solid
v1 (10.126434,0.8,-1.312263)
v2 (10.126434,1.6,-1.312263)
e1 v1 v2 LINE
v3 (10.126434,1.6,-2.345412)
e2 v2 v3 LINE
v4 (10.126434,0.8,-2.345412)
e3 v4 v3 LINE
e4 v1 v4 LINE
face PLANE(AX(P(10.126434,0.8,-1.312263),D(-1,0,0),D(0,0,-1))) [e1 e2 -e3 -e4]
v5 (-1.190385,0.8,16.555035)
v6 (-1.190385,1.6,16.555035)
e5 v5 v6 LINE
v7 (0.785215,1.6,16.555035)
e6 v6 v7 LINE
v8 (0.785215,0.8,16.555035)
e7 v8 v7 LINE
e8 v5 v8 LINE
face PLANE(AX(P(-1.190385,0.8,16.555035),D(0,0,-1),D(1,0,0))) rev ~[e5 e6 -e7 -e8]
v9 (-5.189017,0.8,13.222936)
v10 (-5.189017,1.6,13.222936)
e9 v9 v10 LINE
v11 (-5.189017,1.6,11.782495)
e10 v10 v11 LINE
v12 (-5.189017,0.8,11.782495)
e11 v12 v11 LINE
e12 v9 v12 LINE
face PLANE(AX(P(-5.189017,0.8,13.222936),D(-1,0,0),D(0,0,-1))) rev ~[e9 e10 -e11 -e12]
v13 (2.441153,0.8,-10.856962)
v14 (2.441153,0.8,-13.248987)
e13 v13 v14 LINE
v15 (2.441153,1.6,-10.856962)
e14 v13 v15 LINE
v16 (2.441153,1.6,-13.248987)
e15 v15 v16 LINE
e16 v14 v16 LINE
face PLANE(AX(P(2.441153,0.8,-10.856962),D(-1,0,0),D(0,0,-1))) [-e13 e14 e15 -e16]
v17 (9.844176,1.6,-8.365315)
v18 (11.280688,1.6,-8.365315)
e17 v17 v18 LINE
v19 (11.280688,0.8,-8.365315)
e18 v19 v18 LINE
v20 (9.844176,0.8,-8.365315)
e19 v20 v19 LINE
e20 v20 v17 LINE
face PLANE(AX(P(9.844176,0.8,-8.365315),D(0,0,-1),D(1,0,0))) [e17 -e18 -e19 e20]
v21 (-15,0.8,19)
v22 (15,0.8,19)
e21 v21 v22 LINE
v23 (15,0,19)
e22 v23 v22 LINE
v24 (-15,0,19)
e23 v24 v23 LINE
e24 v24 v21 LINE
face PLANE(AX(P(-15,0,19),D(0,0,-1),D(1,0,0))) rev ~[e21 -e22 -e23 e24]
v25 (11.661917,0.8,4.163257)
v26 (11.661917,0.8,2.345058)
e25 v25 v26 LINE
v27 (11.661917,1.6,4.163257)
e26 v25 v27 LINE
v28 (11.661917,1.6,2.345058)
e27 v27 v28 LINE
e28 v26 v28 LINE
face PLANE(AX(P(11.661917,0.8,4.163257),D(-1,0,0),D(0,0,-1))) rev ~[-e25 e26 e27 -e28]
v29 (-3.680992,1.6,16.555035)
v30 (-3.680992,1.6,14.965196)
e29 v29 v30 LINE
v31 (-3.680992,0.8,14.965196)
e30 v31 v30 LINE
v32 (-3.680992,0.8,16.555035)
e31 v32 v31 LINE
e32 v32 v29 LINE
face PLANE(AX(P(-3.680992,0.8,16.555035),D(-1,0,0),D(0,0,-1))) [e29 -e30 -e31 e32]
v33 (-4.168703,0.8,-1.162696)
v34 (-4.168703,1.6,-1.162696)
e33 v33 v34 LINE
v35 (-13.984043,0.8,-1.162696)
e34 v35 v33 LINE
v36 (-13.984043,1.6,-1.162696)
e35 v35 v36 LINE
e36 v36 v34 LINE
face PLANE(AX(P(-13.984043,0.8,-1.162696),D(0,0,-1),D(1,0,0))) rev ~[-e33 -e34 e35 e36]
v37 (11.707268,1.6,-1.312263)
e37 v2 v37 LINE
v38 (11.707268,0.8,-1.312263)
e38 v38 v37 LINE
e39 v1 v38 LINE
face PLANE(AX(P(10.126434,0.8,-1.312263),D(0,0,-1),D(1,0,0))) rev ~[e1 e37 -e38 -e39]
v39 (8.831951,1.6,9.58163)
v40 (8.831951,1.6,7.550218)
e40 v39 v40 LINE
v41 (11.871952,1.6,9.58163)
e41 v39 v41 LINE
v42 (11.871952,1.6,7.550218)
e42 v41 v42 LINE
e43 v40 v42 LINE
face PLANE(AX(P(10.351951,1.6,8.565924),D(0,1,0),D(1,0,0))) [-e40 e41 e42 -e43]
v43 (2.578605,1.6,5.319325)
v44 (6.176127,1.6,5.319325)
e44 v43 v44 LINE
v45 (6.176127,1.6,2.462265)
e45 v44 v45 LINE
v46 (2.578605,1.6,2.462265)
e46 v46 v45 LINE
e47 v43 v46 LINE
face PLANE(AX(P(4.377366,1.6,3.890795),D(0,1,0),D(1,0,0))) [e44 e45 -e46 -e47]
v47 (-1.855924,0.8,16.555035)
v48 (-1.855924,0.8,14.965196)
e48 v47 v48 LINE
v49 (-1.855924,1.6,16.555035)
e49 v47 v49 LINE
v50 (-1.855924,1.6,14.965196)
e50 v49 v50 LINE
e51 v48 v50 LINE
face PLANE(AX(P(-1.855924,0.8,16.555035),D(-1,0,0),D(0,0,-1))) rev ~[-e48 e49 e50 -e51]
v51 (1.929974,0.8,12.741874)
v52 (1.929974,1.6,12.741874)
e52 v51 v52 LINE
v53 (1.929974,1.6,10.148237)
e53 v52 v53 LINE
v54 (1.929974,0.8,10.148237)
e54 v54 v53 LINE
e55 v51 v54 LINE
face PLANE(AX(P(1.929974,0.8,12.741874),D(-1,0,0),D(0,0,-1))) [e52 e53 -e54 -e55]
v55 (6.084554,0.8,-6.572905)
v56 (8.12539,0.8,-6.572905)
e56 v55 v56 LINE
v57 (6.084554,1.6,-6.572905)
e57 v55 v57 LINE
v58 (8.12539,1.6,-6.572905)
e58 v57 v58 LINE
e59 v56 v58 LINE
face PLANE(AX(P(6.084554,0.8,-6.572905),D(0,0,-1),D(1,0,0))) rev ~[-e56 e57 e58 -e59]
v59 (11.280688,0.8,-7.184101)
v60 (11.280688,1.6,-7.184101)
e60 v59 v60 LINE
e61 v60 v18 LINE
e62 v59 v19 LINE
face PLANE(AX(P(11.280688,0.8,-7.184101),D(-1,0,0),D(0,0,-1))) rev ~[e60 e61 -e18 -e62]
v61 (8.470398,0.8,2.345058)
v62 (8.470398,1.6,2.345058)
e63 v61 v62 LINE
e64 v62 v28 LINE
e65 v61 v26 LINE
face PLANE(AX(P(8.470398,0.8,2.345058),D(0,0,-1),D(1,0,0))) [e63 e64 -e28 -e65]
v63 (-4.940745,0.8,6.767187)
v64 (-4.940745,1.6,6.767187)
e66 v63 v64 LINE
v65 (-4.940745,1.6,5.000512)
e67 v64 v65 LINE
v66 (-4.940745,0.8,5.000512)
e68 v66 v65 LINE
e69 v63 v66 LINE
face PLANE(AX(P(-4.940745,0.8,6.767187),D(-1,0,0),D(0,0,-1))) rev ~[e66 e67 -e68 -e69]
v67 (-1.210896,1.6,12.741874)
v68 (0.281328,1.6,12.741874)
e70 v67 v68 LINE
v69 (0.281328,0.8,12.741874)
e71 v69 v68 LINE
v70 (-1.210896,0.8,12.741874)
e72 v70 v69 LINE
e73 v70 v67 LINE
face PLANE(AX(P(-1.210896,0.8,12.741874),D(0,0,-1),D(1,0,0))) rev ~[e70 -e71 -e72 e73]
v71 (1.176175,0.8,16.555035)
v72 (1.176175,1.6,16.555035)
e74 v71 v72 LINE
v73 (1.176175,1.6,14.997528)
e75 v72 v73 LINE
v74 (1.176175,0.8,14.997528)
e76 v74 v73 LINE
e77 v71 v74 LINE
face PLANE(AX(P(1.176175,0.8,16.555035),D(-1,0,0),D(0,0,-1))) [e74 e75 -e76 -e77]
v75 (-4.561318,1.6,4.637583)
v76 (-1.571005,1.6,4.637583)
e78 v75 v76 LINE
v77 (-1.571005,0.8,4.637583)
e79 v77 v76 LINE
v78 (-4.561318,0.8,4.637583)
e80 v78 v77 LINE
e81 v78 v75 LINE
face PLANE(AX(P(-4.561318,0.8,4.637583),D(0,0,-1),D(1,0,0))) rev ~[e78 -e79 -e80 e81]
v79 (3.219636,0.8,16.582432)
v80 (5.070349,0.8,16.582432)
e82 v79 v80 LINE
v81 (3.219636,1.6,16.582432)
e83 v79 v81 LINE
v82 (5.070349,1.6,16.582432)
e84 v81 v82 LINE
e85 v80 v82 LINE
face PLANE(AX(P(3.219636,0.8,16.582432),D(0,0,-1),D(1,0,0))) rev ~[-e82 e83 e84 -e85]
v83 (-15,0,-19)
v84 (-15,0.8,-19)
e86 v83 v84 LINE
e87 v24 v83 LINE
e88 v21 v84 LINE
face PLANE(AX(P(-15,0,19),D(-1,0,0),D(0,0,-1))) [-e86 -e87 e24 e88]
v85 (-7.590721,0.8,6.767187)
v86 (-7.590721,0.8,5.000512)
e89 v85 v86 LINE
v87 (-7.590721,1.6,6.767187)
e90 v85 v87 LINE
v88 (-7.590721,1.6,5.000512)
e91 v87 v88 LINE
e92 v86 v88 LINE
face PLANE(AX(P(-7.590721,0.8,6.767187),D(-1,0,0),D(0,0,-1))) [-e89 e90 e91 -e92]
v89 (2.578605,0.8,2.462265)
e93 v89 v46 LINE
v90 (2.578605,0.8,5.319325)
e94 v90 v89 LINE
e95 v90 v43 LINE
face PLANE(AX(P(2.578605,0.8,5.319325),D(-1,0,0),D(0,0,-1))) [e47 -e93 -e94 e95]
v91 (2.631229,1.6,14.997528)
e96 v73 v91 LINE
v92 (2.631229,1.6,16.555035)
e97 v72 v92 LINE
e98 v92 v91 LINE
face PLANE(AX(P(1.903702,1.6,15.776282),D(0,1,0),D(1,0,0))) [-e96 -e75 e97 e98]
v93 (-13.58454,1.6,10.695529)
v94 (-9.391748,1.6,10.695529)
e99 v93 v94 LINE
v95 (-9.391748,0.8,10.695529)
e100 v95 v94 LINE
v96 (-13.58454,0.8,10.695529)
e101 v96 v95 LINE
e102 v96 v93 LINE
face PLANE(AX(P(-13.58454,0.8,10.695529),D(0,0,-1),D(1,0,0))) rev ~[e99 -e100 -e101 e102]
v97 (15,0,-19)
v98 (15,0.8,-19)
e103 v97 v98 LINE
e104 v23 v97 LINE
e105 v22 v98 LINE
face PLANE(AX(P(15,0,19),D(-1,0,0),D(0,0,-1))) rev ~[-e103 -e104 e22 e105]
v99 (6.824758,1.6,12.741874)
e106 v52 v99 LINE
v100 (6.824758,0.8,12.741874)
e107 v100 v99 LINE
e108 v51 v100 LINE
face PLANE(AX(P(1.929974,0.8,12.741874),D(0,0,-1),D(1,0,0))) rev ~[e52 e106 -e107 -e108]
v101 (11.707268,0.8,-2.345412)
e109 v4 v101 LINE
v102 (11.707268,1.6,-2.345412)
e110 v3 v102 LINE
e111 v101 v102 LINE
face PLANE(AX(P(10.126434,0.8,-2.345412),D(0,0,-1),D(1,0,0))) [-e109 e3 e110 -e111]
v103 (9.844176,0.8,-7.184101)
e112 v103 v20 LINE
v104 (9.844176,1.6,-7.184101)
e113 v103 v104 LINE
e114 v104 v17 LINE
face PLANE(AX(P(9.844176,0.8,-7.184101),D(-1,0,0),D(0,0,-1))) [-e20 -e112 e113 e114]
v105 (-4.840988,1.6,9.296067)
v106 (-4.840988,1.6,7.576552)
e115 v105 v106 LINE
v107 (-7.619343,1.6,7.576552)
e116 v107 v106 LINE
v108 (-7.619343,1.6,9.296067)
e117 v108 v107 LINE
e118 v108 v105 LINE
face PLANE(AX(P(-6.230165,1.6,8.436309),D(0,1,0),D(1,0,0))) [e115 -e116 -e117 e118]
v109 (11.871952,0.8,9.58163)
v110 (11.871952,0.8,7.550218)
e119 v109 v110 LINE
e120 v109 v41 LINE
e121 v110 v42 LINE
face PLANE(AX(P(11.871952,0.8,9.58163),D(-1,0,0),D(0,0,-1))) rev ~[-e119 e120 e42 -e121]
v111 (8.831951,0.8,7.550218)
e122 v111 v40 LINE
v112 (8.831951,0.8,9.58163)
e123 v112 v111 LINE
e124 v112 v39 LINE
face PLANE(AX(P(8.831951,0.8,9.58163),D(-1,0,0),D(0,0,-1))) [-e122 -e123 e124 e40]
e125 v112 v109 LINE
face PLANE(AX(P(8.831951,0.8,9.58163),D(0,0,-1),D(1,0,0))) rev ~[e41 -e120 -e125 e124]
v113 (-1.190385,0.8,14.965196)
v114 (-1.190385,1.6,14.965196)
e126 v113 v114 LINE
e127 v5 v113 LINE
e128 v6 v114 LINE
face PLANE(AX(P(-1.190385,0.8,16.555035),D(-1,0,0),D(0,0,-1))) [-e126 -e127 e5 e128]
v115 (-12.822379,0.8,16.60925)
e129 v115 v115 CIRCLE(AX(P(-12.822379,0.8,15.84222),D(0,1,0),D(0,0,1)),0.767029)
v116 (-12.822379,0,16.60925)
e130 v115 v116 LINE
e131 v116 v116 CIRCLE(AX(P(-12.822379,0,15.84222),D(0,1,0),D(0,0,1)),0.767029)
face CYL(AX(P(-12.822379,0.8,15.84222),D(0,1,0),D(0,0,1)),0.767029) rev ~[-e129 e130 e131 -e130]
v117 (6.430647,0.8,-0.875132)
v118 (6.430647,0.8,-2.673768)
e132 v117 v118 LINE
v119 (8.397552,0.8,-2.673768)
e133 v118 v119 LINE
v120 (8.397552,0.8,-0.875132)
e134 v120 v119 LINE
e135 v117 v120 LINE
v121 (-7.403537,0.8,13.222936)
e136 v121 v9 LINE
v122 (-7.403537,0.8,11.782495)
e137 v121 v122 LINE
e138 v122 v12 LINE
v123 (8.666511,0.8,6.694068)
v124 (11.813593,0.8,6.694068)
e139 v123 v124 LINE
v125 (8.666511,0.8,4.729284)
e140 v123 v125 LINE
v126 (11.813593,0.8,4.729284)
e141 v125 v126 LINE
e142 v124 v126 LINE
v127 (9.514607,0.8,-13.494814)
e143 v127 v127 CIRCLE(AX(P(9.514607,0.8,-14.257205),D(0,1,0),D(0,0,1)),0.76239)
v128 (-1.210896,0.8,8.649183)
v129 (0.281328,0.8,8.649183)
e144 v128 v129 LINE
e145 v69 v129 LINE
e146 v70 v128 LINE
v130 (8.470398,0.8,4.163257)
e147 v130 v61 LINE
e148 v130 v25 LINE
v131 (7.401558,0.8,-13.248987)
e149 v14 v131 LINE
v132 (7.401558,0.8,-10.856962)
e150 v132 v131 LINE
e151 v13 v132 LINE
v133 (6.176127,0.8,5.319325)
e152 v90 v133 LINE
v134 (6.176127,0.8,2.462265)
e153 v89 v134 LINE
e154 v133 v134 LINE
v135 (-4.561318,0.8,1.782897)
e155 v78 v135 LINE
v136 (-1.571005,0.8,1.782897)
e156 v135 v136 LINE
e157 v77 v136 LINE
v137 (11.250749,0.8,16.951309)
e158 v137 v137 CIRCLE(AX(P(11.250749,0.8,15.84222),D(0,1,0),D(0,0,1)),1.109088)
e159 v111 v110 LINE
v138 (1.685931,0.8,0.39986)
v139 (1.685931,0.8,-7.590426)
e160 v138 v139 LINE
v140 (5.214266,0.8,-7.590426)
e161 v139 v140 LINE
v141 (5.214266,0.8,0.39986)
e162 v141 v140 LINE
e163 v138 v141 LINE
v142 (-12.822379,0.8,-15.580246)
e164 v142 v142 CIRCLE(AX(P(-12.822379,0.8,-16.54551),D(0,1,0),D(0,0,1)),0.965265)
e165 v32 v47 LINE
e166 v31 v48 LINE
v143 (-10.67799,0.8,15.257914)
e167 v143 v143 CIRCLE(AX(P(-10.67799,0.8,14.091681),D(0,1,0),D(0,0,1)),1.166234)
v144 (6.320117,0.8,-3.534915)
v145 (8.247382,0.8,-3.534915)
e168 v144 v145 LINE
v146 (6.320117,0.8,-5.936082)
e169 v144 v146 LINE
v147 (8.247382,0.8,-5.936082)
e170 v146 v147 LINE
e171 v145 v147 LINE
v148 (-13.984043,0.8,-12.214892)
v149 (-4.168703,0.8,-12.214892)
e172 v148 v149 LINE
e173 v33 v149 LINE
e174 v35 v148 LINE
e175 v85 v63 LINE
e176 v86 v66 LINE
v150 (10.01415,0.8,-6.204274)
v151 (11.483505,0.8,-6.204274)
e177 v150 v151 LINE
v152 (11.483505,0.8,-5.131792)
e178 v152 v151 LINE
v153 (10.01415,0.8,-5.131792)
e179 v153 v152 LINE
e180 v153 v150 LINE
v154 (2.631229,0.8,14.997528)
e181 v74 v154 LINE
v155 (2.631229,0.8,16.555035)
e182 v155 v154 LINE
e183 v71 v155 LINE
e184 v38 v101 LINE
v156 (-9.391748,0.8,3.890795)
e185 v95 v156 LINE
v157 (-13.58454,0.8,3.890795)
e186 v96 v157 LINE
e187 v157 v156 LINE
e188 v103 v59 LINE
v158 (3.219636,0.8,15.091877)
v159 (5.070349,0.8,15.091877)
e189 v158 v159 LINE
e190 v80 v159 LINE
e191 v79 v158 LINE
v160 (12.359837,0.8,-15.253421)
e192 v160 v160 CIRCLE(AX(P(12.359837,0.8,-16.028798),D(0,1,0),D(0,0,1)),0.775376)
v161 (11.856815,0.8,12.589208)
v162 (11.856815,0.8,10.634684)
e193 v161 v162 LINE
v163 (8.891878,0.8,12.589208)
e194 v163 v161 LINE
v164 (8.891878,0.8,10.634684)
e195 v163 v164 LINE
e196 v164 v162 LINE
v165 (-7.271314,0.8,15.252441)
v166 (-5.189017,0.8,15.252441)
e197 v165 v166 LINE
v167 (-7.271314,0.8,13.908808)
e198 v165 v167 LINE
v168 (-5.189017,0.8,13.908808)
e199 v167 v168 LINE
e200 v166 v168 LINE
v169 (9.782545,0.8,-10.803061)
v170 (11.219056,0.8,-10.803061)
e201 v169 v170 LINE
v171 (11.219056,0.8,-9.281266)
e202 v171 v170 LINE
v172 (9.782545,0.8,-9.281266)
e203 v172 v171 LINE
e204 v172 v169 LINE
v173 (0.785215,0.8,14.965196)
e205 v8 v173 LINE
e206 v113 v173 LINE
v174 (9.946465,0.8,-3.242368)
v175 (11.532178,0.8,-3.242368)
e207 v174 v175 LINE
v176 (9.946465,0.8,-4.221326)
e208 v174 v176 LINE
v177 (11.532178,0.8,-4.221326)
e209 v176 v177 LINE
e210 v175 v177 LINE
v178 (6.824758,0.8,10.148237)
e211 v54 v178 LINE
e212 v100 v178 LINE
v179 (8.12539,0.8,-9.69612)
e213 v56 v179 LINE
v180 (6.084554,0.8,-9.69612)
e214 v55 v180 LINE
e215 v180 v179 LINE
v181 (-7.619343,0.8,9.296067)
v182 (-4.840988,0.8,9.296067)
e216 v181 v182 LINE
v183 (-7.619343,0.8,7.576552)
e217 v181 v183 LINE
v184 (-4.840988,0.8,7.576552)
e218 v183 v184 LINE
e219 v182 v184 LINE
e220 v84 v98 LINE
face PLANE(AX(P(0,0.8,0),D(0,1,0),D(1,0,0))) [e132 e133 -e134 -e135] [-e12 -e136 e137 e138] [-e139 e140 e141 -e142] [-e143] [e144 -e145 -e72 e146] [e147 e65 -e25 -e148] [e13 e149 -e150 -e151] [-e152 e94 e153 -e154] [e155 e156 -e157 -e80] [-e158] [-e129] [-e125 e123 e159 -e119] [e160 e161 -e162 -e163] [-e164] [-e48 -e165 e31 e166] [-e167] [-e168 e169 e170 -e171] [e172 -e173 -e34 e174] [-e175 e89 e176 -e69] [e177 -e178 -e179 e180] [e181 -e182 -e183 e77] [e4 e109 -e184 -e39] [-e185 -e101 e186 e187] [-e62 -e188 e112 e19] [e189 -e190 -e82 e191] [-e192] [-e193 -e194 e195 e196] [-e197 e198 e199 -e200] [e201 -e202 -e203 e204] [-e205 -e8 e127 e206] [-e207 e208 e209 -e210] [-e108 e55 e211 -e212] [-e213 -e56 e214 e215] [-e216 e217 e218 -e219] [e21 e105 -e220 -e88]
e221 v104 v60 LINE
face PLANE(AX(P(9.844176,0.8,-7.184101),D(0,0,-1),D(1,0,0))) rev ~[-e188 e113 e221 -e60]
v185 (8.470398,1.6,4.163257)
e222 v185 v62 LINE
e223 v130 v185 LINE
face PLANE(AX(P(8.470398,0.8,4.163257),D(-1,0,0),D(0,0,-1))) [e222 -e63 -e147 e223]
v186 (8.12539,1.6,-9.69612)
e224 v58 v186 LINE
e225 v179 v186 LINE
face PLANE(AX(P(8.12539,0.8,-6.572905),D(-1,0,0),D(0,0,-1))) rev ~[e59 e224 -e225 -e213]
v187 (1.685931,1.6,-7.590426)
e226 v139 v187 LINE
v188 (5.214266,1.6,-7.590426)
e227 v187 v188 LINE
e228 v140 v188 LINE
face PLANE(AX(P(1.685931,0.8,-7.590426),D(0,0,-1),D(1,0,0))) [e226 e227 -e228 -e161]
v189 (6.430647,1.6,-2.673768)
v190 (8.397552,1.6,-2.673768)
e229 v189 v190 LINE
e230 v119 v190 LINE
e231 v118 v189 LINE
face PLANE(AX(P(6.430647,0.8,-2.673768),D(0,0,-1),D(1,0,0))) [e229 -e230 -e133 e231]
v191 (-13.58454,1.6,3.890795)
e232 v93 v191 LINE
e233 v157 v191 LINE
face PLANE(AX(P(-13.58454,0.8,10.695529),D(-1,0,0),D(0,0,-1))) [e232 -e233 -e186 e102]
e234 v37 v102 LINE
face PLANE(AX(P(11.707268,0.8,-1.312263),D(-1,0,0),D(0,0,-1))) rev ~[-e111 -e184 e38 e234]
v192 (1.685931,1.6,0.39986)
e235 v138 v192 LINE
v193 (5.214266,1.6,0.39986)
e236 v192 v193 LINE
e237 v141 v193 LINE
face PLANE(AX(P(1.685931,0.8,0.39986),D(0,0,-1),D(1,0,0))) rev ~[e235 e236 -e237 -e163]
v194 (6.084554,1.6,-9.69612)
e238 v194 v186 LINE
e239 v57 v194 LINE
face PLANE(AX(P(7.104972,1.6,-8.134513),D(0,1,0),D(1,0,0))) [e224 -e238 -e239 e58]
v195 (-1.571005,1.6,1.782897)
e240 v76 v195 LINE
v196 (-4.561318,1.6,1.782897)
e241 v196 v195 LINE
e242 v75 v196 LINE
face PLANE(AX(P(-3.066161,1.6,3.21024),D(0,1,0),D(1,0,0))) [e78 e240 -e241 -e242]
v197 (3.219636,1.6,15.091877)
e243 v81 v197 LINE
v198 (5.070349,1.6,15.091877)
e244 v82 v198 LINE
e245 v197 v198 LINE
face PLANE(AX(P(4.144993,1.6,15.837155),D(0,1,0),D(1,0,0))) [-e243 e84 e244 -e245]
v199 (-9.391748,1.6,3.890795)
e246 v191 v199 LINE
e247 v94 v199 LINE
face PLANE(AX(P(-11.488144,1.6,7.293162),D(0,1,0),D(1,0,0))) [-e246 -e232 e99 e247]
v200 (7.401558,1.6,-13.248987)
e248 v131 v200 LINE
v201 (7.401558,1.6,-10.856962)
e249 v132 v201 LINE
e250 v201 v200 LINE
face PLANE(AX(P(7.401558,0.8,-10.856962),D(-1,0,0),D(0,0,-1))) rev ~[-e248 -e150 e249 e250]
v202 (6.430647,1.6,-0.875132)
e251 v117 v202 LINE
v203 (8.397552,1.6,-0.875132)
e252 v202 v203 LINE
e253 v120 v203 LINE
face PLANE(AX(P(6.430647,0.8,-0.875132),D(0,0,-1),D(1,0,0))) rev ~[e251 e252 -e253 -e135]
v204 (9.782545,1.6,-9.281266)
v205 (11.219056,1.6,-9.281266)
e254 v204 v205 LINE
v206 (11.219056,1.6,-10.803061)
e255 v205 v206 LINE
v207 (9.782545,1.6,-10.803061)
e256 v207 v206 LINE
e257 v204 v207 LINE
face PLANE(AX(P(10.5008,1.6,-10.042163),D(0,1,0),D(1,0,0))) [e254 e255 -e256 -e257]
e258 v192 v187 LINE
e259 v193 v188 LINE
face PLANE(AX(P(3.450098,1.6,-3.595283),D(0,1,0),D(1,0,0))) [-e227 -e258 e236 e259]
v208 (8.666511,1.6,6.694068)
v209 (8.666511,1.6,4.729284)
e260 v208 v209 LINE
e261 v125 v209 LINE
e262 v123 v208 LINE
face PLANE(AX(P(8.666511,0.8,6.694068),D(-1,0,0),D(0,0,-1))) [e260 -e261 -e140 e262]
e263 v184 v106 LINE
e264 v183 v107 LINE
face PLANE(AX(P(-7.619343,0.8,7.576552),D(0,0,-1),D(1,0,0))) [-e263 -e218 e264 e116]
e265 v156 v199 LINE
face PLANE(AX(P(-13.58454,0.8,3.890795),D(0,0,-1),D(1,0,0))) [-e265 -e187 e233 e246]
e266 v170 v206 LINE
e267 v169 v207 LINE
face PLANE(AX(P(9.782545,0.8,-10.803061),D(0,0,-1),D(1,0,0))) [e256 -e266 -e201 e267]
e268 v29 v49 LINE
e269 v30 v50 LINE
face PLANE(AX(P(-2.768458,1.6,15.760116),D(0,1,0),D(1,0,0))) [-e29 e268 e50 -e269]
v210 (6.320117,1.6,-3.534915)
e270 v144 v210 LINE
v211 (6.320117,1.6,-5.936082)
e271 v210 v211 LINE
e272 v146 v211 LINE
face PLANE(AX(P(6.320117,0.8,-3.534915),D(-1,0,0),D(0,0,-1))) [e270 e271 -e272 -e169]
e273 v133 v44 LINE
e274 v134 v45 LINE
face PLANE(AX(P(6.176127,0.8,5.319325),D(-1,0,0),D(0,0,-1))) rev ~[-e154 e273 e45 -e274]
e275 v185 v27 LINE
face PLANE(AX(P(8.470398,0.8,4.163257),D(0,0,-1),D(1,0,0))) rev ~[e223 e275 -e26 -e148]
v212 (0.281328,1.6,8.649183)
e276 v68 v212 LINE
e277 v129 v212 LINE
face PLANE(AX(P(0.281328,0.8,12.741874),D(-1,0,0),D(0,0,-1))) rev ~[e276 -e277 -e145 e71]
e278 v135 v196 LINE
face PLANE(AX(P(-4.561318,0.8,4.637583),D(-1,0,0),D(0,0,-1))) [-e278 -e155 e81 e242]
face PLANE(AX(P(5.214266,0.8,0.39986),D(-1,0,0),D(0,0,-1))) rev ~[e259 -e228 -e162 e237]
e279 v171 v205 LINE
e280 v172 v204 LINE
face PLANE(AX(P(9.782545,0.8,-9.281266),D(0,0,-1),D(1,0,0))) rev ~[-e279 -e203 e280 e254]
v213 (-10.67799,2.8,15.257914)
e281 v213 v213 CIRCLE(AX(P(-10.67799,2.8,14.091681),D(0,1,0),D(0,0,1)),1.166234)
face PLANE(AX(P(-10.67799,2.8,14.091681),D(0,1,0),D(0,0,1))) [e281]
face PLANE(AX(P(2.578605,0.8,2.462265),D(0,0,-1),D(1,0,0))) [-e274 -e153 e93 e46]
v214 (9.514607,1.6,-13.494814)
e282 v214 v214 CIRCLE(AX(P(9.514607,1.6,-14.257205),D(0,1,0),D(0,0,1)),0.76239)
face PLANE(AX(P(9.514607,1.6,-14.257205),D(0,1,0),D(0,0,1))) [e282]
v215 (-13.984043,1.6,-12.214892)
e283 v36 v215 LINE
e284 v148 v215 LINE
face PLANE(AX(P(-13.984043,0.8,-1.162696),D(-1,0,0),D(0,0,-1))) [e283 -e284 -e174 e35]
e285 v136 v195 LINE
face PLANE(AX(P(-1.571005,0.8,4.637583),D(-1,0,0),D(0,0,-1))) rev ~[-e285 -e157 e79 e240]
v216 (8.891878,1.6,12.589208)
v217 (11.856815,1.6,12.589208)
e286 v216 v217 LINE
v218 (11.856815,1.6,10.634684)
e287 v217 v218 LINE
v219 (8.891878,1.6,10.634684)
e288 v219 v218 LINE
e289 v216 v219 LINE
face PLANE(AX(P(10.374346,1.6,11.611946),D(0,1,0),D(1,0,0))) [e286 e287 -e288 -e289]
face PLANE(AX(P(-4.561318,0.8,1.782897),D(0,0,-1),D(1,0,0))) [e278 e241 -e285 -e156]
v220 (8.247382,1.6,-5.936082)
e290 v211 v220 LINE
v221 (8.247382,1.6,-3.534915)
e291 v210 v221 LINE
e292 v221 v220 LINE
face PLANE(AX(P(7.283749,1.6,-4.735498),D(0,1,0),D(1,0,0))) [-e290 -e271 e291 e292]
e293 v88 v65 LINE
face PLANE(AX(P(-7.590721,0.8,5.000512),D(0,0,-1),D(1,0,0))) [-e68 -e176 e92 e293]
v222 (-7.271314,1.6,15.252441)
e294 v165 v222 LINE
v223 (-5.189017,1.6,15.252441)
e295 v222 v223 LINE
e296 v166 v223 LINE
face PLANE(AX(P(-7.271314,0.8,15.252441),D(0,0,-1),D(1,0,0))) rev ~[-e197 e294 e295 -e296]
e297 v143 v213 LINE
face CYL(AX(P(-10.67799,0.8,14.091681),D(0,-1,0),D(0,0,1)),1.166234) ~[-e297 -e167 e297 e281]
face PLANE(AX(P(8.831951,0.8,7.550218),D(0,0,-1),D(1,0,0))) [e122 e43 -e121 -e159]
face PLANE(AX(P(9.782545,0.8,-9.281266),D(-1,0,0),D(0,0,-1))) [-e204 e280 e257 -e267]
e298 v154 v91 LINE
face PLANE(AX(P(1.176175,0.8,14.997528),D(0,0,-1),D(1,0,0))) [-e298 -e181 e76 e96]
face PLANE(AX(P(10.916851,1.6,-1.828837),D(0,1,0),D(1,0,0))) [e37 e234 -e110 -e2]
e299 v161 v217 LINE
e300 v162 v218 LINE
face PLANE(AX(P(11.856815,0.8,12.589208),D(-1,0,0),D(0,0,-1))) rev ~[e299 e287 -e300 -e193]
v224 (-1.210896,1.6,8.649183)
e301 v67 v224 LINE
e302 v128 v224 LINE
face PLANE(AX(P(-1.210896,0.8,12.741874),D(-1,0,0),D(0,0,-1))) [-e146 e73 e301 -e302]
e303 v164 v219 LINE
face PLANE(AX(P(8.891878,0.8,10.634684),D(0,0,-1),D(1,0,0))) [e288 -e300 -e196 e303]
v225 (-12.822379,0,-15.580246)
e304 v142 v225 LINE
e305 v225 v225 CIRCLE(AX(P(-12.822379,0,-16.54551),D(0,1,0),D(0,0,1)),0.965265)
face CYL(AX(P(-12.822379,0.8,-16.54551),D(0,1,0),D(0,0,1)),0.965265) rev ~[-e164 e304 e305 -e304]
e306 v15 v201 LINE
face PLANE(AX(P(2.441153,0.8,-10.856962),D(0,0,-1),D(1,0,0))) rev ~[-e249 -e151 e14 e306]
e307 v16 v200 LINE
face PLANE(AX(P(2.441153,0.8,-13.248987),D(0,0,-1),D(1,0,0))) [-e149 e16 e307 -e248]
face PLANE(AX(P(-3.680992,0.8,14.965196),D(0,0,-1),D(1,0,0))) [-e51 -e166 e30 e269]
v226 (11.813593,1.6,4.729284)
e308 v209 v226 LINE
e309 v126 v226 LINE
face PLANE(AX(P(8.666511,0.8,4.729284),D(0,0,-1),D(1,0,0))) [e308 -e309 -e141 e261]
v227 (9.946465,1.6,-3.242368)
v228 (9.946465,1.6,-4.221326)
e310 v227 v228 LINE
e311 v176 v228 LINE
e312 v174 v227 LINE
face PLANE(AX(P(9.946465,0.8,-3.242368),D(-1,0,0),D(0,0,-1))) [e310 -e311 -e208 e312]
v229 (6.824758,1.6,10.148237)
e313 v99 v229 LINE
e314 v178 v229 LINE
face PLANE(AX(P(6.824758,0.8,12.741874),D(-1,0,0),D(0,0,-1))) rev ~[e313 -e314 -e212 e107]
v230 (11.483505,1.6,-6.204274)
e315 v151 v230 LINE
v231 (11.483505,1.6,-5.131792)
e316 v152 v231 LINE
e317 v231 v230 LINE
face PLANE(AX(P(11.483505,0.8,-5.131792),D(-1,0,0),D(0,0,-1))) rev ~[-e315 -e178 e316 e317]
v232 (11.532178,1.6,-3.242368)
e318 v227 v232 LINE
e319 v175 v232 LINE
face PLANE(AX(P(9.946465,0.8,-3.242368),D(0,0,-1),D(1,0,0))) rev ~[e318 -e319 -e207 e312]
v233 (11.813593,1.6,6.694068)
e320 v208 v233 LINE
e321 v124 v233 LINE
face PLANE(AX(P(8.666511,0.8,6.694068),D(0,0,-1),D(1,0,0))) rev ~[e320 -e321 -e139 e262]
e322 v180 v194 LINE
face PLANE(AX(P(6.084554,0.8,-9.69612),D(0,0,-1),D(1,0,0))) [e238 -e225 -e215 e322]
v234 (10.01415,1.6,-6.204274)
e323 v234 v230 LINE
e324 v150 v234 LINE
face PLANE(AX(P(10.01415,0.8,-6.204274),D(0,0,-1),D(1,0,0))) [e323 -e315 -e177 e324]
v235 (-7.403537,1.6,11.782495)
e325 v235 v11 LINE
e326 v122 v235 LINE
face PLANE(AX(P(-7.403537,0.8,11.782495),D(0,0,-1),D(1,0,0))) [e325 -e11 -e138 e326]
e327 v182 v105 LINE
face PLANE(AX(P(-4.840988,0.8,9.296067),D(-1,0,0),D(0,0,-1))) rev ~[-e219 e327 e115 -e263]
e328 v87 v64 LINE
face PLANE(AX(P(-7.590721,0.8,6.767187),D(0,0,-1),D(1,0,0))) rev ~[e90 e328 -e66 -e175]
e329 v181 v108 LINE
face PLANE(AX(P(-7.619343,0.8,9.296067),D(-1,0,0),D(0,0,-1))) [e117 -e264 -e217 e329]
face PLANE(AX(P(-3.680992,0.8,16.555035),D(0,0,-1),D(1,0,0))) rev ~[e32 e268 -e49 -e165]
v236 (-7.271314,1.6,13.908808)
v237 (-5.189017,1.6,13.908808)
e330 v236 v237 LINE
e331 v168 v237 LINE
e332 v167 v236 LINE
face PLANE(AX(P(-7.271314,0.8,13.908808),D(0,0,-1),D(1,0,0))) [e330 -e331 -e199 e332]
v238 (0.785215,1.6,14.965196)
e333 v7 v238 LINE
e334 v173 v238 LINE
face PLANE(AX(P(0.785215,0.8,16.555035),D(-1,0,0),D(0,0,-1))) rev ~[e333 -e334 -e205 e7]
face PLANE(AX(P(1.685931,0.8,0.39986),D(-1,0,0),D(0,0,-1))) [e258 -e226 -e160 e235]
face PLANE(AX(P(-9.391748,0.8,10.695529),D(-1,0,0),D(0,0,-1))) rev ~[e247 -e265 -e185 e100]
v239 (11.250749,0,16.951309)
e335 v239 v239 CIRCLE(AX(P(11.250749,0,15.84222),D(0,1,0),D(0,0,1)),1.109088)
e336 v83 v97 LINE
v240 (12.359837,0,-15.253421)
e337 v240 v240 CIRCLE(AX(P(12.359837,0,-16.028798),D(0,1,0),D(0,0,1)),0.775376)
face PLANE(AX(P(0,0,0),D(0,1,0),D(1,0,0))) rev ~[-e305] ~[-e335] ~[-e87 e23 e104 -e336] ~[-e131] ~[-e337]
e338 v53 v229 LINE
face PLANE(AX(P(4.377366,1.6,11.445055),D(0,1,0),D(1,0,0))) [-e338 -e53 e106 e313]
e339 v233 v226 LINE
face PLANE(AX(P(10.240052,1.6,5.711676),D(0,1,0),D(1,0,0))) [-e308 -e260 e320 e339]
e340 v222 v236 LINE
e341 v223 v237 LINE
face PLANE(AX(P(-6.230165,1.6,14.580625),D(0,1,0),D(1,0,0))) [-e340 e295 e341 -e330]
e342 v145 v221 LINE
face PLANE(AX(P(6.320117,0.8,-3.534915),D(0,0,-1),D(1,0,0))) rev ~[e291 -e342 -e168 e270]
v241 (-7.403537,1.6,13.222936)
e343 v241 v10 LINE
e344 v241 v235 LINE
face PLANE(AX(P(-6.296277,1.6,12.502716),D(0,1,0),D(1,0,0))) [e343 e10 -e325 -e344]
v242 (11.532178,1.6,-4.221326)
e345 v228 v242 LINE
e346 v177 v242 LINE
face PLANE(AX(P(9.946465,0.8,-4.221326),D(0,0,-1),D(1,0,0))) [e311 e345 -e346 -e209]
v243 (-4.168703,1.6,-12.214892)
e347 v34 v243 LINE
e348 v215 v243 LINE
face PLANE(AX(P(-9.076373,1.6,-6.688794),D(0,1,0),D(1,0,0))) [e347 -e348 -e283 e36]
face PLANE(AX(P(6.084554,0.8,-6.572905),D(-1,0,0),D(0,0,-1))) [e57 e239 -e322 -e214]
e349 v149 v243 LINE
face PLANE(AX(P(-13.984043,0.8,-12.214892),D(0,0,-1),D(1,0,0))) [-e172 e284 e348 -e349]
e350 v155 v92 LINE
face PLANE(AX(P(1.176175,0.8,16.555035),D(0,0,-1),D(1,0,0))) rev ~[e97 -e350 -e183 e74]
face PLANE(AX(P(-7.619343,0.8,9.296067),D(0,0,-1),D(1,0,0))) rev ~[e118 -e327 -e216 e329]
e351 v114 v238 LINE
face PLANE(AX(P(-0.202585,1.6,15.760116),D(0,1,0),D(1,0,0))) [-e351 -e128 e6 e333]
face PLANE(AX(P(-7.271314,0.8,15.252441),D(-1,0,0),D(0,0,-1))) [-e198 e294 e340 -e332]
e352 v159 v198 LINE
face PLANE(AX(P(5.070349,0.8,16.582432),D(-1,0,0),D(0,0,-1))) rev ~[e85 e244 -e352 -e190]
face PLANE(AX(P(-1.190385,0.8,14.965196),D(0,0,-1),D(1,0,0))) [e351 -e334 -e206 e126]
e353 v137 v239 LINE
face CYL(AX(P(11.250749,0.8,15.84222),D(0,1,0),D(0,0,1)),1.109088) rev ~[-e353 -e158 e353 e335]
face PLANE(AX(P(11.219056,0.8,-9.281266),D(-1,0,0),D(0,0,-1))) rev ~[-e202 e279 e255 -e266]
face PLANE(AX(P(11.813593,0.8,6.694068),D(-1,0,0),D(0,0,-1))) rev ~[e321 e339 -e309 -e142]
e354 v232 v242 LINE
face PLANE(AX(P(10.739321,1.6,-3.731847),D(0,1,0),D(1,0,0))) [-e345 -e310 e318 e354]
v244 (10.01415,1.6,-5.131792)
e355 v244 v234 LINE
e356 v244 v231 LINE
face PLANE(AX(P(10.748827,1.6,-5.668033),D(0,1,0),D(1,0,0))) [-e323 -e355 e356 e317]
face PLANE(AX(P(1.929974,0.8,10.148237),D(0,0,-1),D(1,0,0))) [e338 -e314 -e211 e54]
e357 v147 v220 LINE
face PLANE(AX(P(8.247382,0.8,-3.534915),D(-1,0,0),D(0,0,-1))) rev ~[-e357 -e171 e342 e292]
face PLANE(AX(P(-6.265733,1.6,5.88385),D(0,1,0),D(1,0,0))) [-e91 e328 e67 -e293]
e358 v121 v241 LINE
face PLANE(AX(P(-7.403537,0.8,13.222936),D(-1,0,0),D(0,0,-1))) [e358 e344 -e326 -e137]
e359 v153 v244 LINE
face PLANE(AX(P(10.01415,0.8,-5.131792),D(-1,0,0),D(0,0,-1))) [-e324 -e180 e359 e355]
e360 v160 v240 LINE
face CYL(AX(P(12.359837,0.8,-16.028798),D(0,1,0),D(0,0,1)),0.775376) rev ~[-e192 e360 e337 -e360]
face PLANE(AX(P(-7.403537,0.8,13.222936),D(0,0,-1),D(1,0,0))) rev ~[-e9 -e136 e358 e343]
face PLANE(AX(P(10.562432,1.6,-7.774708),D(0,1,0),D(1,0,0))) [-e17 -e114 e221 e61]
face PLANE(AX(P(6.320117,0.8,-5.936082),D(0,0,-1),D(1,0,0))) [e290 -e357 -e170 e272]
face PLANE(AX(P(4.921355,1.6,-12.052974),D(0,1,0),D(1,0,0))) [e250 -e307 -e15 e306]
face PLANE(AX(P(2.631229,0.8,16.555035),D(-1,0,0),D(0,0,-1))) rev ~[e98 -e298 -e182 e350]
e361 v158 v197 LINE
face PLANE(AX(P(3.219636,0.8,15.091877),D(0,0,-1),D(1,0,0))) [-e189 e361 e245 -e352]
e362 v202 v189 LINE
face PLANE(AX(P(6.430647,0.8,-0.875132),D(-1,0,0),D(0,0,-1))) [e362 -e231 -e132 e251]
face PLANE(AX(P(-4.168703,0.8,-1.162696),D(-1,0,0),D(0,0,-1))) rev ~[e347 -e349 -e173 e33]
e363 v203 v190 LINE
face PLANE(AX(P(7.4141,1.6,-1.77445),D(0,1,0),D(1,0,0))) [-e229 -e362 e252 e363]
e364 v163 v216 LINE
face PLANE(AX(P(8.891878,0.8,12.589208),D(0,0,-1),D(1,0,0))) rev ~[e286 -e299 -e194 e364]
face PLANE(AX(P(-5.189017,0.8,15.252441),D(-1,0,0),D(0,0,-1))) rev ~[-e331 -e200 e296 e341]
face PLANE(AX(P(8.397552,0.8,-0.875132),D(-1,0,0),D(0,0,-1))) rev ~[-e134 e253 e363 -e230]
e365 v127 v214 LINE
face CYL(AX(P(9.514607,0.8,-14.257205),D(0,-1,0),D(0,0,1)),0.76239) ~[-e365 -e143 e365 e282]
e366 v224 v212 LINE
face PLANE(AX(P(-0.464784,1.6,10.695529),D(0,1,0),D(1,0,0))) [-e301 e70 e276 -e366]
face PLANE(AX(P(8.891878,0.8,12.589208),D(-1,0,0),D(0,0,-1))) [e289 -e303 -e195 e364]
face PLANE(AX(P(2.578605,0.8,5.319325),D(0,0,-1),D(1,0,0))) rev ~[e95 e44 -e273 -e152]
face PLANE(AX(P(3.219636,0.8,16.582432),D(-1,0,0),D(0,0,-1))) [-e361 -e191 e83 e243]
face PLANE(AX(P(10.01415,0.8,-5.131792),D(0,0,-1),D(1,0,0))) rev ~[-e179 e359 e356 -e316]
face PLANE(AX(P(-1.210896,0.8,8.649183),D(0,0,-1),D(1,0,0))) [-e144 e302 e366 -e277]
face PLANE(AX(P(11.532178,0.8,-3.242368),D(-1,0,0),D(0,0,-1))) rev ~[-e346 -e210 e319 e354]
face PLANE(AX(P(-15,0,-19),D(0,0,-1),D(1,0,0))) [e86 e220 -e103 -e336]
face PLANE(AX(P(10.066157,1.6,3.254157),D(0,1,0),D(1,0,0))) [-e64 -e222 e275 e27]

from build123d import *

# Parameters (mm, degrees)
SKETCH1_W           = 30
SKETCH1_H           = 38
BOSS_EXTRUDE1_DEPTH = 0.8
SKETCH2_R           = 1.109088316
SKETCH2_R_2         = 0.767029383
SKETCH2_R_3         = 0.775376329
SKETCH2_R_4         = 0.965264576
CUT_EXTRUDE1_DEPTH  = 0.8
SKETCH3_R           = 0.762390383
SKETCH3_W           = 4.894784697
SKETCH3_H           = 2.593636899
SKETCH3_W_2         = 4.192792091
SKETCH3_H_2         = 6.804733529
SKETCH3_W_3         = 3.597522217
SKETCH3_H_3         = 2.857060704
SKETCH3_W_4         = 3.52833422
SKETCH3_H_4         = 7.990285999
SKETCH3_W_5         = 4.960404455
SKETCH3_H_5         = 2.392024826
SKETCH3_W_6         = 2.649975693
SKETCH3_H_6         = 1.766675078
SKETCH3_W_7         = 2.778355341
SKETCH3_H_7         = 1.719515045
SKETCH3_W_8         = 1.492224114
SKETCH3_H_8         = 4.092690132
SKETCH3_W_9         = 2.214520185
SKETCH3_H_9         = 1.440440718
SKETCH3_W_10        = 2.082297707
SKETCH3_H_10        = 1.343633444
SKETCH3_W_11        = 2.964936673
SKETCH3_H_11        = 1.954523976
SKETCH3_W_12        = 3.040001034
SKETCH3_H_12        = 2.031411973
SKETCH3_W_13        = 3.147081738
SKETCH3_H_13        = 1.964784153
SKETCH3_W_14        = 3.191518467
SKETCH3_H_14        = 1.818199508
SKETCH3_W_15        = 1.580834587
SKETCH3_H_15        = 1.033148902
SKETCH3_W_16        = 1.585712642
SKETCH3_H_16        = 0.978957998
SKETCH3_W_17        = 1.469355228
SKETCH3_H_17        = 1.07248279
SKETCH3_W_18        = 1.436511349
SKETCH3_H_18        = 1.181213981
SKETCH3_W_19        = 1.43651135
SKETCH3_H_19        = 1.521795272
SKETCH3_W_20        = 9.81533928
SKETCH3_H_20        = 11.052195098
BOSS_EXTRUDE2_DEPTH = 0.8
SKETCH4_W           = 1.825068619
SKETCH4_H           = 1.589839684
SKETCH4_W_2         = 1.975600159
SKETCH4_W_3         = 1.455054018
SKETCH4_H_2         = 1.55750712
SKETCH4_W_4         = 1.850712573
SKETCH4_H_3         = 1.49055505
SKETCH4_W_5         = 1.966905423
SKETCH4_H_4         = 1.798635407
SKETCH4_W_6         = 1.927265264
SKETCH4_H_5         = 2.401166398
SKETCH4_W_7         = 2.040835962
SKETCH4_H_6         = 3.123215429
SKETCH4_W_8         = 2.990312219
SKETCH4_H_7         = 2.85468568
BOSS_EXTRUDE3_DEPTH = 0.8
SKETCH5_R           = 1.166233651
BOSS_EXTRUDE4_DEPTH = 2


with BuildPart() as part:
    # Sketch1 → Boss-Extrude1 (new body)
    with BuildSketch(Plane(origin=(0, 0, 0), x_dir=(1, 0, 0), z_dir=(0, 1, 0))):
        Rectangle(SKETCH1_W, SKETCH1_H)
    extrude(amount=BOSS_EXTRUDE1_DEPTH)

    # Sketch2 → Cut-Extrude1 (cut)
    with BuildSketch(Plane(origin=(0, 0.8, 0), x_dir=(1, 0, 0), z_dir=(0, 1, 0))):
        with Locations(Location((11.250748943, -15.842220292, 0), (0, 0, 270))):
            Circle(SKETCH2_R)
        with Locations(Location((-12.822379124, -15.842220292, 0), (0, 0, 270))):
            Circle(SKETCH2_R_2)
        with Locations(Location((12.359837258, 16.028797503, 0), (0, 0, 270))):
            Circle(SKETCH2_R_3)
        with Locations(Location((-12.822379124, 16.54551038, 0), (0, 0, 270))):
            Circle(SKETCH2_R_4)
    extrude(amount=-CUT_EXTRUDE1_DEPTH, mode=Mode.SUBTRACT)

    # Sketch3 → Boss-Extrude2 (add)
    with BuildSketch(Plane(origin=(0, 0.8, 0), x_dir=(1, 0, 0), z_dir=(0, 1, 0))):
        with Locations(Location((9.514606687, 14.257204648, 0), (0, 0, 270))):
            Circle(SKETCH3_R)
        with Locations((4.377365901, -11.445055136)):
            Rectangle(SKETCH3_W, SKETCH3_H)
        with Locations((-11.488143819, -7.293161754)):
            Rectangle(SKETCH3_W_2, SKETCH3_H_2)
        with Locations((4.377365901, -3.89079499)):
            Rectangle(SKETCH3_W_3, SKETCH3_H_3)
        with Locations((3.450098414, 3.595282667)):
            Rectangle(SKETCH3_W_4, SKETCH3_H_4)
        with Locations((4.921355444, 12.052974346)):
            Rectangle(SKETCH3_W_5, SKETCH3_H_5)
        with Locations((-6.265733234, -5.883849823)):
            Rectangle(SKETCH3_W_6, SKETCH3_H_6)
        with Locations((-6.230165426, -8.436309488)):
            Rectangle(SKETCH3_W_7, SKETCH3_H_7)
        with Locations((-0.464784197, -10.695528519)):
            Rectangle(SKETCH3_W_8, SKETCH3_H_8)
        with Locations((-6.296276665, -12.502715855)):
            Rectangle(SKETCH3_W_9, SKETCH3_H_9)
        with Locations((-6.230165426, -14.58062451)):
            Rectangle(SKETCH3_W_10, SKETCH3_H_10)
        with Locations((10.3743464, -11.611945846)):
            Rectangle(SKETCH3_W_11, SKETCH3_H_11)
        with Locations((10.351951393, -8.565924221)):
            Rectangle(SKETCH3_W_12, SKETCH3_H_12)
        with Locations((10.240052284, -5.711675816)):
            Rectangle(SKETCH3_W_13, SKETCH3_H_13)
        with Locations((10.066157491, -3.254157356)):
            Rectangle(SKETCH3_W_14, SKETCH3_H_14)
        with Locations((10.916850927, 1.828837055)):
            Rectangle(SKETCH3_W_15, SKETCH3_H_15)
        with Locations((10.739321253, 3.731847337)):
            Rectangle(SKETCH3_W_16, SKETCH3_H_16)
        with Locations((10.748827302, 5.668032924)):
            Rectangle(SKETCH3_W_17, SKETCH3_H_17)
        with Locations((10.56243198, 7.774708171)):
            Rectangle(SKETCH3_W_18, SKETCH3_H_18)
        with Locations((10.500800241, 10.042163174)):
            Rectangle(SKETCH3_W_19, SKETCH3_H_19)
        with Locations((-9.076372897, 6.688794027)):
            Rectangle(SKETCH3_W_20, SKETCH3_H_20)
    extrude(amount=BOSS_EXTRUDE2_DEPTH)

    # Sketch4 → Boss-Extrude3 (add)
    with BuildSketch(Plane(origin=(0, 0.8, 0), x_dir=(1, 0, 0), z_dir=(0, 1, 0))):
        with Locations((-2.768458169, -15.760115658)):
            Rectangle(SKETCH4_W, SKETCH4_H)
        with Locations((-0.202584614, -15.760115658)):
            Rectangle(SKETCH4_W_2, SKETCH4_H)
        with Locations((1.903702303, -15.77628194)):
            Rectangle(SKETCH4_W_3, SKETCH4_H_2)
        with Locations((4.144992677, -15.837154802)):
            Rectangle(SKETCH4_W_4, SKETCH4_H_3)
        with Locations((7.414099695, 1.774450018)):
            Rectangle(SKETCH4_W_5, SKETCH4_H_4)
        with Locations((7.283749146, 4.735498446)):
            Rectangle(SKETCH4_W_6, SKETCH4_H_5)
        with Locations((7.104971851, 8.134512532)):
            Rectangle(SKETCH4_W_7, SKETCH4_H_6)
        with Locations((-3.066161458, -3.210239912)):
            Rectangle(SKETCH4_W_8, SKETCH4_H_7)
    extrude(amount=BOSS_EXTRUDE3_DEPTH)

    # Sketch5 → Boss-Extrude4 (add)
    with BuildSketch(Plane(origin=(0, 0.8, 0), x_dir=(1, 0, 0), z_dir=(0, 1, 0))):
        with Locations(Location((-10.677990128, -14.091680692, 0), (0, 0, 270))):
            Circle(SKETCH5_R)
    extrude(amount=BOSS_EXTRUDE4_DEPTH)


solid = part.part
